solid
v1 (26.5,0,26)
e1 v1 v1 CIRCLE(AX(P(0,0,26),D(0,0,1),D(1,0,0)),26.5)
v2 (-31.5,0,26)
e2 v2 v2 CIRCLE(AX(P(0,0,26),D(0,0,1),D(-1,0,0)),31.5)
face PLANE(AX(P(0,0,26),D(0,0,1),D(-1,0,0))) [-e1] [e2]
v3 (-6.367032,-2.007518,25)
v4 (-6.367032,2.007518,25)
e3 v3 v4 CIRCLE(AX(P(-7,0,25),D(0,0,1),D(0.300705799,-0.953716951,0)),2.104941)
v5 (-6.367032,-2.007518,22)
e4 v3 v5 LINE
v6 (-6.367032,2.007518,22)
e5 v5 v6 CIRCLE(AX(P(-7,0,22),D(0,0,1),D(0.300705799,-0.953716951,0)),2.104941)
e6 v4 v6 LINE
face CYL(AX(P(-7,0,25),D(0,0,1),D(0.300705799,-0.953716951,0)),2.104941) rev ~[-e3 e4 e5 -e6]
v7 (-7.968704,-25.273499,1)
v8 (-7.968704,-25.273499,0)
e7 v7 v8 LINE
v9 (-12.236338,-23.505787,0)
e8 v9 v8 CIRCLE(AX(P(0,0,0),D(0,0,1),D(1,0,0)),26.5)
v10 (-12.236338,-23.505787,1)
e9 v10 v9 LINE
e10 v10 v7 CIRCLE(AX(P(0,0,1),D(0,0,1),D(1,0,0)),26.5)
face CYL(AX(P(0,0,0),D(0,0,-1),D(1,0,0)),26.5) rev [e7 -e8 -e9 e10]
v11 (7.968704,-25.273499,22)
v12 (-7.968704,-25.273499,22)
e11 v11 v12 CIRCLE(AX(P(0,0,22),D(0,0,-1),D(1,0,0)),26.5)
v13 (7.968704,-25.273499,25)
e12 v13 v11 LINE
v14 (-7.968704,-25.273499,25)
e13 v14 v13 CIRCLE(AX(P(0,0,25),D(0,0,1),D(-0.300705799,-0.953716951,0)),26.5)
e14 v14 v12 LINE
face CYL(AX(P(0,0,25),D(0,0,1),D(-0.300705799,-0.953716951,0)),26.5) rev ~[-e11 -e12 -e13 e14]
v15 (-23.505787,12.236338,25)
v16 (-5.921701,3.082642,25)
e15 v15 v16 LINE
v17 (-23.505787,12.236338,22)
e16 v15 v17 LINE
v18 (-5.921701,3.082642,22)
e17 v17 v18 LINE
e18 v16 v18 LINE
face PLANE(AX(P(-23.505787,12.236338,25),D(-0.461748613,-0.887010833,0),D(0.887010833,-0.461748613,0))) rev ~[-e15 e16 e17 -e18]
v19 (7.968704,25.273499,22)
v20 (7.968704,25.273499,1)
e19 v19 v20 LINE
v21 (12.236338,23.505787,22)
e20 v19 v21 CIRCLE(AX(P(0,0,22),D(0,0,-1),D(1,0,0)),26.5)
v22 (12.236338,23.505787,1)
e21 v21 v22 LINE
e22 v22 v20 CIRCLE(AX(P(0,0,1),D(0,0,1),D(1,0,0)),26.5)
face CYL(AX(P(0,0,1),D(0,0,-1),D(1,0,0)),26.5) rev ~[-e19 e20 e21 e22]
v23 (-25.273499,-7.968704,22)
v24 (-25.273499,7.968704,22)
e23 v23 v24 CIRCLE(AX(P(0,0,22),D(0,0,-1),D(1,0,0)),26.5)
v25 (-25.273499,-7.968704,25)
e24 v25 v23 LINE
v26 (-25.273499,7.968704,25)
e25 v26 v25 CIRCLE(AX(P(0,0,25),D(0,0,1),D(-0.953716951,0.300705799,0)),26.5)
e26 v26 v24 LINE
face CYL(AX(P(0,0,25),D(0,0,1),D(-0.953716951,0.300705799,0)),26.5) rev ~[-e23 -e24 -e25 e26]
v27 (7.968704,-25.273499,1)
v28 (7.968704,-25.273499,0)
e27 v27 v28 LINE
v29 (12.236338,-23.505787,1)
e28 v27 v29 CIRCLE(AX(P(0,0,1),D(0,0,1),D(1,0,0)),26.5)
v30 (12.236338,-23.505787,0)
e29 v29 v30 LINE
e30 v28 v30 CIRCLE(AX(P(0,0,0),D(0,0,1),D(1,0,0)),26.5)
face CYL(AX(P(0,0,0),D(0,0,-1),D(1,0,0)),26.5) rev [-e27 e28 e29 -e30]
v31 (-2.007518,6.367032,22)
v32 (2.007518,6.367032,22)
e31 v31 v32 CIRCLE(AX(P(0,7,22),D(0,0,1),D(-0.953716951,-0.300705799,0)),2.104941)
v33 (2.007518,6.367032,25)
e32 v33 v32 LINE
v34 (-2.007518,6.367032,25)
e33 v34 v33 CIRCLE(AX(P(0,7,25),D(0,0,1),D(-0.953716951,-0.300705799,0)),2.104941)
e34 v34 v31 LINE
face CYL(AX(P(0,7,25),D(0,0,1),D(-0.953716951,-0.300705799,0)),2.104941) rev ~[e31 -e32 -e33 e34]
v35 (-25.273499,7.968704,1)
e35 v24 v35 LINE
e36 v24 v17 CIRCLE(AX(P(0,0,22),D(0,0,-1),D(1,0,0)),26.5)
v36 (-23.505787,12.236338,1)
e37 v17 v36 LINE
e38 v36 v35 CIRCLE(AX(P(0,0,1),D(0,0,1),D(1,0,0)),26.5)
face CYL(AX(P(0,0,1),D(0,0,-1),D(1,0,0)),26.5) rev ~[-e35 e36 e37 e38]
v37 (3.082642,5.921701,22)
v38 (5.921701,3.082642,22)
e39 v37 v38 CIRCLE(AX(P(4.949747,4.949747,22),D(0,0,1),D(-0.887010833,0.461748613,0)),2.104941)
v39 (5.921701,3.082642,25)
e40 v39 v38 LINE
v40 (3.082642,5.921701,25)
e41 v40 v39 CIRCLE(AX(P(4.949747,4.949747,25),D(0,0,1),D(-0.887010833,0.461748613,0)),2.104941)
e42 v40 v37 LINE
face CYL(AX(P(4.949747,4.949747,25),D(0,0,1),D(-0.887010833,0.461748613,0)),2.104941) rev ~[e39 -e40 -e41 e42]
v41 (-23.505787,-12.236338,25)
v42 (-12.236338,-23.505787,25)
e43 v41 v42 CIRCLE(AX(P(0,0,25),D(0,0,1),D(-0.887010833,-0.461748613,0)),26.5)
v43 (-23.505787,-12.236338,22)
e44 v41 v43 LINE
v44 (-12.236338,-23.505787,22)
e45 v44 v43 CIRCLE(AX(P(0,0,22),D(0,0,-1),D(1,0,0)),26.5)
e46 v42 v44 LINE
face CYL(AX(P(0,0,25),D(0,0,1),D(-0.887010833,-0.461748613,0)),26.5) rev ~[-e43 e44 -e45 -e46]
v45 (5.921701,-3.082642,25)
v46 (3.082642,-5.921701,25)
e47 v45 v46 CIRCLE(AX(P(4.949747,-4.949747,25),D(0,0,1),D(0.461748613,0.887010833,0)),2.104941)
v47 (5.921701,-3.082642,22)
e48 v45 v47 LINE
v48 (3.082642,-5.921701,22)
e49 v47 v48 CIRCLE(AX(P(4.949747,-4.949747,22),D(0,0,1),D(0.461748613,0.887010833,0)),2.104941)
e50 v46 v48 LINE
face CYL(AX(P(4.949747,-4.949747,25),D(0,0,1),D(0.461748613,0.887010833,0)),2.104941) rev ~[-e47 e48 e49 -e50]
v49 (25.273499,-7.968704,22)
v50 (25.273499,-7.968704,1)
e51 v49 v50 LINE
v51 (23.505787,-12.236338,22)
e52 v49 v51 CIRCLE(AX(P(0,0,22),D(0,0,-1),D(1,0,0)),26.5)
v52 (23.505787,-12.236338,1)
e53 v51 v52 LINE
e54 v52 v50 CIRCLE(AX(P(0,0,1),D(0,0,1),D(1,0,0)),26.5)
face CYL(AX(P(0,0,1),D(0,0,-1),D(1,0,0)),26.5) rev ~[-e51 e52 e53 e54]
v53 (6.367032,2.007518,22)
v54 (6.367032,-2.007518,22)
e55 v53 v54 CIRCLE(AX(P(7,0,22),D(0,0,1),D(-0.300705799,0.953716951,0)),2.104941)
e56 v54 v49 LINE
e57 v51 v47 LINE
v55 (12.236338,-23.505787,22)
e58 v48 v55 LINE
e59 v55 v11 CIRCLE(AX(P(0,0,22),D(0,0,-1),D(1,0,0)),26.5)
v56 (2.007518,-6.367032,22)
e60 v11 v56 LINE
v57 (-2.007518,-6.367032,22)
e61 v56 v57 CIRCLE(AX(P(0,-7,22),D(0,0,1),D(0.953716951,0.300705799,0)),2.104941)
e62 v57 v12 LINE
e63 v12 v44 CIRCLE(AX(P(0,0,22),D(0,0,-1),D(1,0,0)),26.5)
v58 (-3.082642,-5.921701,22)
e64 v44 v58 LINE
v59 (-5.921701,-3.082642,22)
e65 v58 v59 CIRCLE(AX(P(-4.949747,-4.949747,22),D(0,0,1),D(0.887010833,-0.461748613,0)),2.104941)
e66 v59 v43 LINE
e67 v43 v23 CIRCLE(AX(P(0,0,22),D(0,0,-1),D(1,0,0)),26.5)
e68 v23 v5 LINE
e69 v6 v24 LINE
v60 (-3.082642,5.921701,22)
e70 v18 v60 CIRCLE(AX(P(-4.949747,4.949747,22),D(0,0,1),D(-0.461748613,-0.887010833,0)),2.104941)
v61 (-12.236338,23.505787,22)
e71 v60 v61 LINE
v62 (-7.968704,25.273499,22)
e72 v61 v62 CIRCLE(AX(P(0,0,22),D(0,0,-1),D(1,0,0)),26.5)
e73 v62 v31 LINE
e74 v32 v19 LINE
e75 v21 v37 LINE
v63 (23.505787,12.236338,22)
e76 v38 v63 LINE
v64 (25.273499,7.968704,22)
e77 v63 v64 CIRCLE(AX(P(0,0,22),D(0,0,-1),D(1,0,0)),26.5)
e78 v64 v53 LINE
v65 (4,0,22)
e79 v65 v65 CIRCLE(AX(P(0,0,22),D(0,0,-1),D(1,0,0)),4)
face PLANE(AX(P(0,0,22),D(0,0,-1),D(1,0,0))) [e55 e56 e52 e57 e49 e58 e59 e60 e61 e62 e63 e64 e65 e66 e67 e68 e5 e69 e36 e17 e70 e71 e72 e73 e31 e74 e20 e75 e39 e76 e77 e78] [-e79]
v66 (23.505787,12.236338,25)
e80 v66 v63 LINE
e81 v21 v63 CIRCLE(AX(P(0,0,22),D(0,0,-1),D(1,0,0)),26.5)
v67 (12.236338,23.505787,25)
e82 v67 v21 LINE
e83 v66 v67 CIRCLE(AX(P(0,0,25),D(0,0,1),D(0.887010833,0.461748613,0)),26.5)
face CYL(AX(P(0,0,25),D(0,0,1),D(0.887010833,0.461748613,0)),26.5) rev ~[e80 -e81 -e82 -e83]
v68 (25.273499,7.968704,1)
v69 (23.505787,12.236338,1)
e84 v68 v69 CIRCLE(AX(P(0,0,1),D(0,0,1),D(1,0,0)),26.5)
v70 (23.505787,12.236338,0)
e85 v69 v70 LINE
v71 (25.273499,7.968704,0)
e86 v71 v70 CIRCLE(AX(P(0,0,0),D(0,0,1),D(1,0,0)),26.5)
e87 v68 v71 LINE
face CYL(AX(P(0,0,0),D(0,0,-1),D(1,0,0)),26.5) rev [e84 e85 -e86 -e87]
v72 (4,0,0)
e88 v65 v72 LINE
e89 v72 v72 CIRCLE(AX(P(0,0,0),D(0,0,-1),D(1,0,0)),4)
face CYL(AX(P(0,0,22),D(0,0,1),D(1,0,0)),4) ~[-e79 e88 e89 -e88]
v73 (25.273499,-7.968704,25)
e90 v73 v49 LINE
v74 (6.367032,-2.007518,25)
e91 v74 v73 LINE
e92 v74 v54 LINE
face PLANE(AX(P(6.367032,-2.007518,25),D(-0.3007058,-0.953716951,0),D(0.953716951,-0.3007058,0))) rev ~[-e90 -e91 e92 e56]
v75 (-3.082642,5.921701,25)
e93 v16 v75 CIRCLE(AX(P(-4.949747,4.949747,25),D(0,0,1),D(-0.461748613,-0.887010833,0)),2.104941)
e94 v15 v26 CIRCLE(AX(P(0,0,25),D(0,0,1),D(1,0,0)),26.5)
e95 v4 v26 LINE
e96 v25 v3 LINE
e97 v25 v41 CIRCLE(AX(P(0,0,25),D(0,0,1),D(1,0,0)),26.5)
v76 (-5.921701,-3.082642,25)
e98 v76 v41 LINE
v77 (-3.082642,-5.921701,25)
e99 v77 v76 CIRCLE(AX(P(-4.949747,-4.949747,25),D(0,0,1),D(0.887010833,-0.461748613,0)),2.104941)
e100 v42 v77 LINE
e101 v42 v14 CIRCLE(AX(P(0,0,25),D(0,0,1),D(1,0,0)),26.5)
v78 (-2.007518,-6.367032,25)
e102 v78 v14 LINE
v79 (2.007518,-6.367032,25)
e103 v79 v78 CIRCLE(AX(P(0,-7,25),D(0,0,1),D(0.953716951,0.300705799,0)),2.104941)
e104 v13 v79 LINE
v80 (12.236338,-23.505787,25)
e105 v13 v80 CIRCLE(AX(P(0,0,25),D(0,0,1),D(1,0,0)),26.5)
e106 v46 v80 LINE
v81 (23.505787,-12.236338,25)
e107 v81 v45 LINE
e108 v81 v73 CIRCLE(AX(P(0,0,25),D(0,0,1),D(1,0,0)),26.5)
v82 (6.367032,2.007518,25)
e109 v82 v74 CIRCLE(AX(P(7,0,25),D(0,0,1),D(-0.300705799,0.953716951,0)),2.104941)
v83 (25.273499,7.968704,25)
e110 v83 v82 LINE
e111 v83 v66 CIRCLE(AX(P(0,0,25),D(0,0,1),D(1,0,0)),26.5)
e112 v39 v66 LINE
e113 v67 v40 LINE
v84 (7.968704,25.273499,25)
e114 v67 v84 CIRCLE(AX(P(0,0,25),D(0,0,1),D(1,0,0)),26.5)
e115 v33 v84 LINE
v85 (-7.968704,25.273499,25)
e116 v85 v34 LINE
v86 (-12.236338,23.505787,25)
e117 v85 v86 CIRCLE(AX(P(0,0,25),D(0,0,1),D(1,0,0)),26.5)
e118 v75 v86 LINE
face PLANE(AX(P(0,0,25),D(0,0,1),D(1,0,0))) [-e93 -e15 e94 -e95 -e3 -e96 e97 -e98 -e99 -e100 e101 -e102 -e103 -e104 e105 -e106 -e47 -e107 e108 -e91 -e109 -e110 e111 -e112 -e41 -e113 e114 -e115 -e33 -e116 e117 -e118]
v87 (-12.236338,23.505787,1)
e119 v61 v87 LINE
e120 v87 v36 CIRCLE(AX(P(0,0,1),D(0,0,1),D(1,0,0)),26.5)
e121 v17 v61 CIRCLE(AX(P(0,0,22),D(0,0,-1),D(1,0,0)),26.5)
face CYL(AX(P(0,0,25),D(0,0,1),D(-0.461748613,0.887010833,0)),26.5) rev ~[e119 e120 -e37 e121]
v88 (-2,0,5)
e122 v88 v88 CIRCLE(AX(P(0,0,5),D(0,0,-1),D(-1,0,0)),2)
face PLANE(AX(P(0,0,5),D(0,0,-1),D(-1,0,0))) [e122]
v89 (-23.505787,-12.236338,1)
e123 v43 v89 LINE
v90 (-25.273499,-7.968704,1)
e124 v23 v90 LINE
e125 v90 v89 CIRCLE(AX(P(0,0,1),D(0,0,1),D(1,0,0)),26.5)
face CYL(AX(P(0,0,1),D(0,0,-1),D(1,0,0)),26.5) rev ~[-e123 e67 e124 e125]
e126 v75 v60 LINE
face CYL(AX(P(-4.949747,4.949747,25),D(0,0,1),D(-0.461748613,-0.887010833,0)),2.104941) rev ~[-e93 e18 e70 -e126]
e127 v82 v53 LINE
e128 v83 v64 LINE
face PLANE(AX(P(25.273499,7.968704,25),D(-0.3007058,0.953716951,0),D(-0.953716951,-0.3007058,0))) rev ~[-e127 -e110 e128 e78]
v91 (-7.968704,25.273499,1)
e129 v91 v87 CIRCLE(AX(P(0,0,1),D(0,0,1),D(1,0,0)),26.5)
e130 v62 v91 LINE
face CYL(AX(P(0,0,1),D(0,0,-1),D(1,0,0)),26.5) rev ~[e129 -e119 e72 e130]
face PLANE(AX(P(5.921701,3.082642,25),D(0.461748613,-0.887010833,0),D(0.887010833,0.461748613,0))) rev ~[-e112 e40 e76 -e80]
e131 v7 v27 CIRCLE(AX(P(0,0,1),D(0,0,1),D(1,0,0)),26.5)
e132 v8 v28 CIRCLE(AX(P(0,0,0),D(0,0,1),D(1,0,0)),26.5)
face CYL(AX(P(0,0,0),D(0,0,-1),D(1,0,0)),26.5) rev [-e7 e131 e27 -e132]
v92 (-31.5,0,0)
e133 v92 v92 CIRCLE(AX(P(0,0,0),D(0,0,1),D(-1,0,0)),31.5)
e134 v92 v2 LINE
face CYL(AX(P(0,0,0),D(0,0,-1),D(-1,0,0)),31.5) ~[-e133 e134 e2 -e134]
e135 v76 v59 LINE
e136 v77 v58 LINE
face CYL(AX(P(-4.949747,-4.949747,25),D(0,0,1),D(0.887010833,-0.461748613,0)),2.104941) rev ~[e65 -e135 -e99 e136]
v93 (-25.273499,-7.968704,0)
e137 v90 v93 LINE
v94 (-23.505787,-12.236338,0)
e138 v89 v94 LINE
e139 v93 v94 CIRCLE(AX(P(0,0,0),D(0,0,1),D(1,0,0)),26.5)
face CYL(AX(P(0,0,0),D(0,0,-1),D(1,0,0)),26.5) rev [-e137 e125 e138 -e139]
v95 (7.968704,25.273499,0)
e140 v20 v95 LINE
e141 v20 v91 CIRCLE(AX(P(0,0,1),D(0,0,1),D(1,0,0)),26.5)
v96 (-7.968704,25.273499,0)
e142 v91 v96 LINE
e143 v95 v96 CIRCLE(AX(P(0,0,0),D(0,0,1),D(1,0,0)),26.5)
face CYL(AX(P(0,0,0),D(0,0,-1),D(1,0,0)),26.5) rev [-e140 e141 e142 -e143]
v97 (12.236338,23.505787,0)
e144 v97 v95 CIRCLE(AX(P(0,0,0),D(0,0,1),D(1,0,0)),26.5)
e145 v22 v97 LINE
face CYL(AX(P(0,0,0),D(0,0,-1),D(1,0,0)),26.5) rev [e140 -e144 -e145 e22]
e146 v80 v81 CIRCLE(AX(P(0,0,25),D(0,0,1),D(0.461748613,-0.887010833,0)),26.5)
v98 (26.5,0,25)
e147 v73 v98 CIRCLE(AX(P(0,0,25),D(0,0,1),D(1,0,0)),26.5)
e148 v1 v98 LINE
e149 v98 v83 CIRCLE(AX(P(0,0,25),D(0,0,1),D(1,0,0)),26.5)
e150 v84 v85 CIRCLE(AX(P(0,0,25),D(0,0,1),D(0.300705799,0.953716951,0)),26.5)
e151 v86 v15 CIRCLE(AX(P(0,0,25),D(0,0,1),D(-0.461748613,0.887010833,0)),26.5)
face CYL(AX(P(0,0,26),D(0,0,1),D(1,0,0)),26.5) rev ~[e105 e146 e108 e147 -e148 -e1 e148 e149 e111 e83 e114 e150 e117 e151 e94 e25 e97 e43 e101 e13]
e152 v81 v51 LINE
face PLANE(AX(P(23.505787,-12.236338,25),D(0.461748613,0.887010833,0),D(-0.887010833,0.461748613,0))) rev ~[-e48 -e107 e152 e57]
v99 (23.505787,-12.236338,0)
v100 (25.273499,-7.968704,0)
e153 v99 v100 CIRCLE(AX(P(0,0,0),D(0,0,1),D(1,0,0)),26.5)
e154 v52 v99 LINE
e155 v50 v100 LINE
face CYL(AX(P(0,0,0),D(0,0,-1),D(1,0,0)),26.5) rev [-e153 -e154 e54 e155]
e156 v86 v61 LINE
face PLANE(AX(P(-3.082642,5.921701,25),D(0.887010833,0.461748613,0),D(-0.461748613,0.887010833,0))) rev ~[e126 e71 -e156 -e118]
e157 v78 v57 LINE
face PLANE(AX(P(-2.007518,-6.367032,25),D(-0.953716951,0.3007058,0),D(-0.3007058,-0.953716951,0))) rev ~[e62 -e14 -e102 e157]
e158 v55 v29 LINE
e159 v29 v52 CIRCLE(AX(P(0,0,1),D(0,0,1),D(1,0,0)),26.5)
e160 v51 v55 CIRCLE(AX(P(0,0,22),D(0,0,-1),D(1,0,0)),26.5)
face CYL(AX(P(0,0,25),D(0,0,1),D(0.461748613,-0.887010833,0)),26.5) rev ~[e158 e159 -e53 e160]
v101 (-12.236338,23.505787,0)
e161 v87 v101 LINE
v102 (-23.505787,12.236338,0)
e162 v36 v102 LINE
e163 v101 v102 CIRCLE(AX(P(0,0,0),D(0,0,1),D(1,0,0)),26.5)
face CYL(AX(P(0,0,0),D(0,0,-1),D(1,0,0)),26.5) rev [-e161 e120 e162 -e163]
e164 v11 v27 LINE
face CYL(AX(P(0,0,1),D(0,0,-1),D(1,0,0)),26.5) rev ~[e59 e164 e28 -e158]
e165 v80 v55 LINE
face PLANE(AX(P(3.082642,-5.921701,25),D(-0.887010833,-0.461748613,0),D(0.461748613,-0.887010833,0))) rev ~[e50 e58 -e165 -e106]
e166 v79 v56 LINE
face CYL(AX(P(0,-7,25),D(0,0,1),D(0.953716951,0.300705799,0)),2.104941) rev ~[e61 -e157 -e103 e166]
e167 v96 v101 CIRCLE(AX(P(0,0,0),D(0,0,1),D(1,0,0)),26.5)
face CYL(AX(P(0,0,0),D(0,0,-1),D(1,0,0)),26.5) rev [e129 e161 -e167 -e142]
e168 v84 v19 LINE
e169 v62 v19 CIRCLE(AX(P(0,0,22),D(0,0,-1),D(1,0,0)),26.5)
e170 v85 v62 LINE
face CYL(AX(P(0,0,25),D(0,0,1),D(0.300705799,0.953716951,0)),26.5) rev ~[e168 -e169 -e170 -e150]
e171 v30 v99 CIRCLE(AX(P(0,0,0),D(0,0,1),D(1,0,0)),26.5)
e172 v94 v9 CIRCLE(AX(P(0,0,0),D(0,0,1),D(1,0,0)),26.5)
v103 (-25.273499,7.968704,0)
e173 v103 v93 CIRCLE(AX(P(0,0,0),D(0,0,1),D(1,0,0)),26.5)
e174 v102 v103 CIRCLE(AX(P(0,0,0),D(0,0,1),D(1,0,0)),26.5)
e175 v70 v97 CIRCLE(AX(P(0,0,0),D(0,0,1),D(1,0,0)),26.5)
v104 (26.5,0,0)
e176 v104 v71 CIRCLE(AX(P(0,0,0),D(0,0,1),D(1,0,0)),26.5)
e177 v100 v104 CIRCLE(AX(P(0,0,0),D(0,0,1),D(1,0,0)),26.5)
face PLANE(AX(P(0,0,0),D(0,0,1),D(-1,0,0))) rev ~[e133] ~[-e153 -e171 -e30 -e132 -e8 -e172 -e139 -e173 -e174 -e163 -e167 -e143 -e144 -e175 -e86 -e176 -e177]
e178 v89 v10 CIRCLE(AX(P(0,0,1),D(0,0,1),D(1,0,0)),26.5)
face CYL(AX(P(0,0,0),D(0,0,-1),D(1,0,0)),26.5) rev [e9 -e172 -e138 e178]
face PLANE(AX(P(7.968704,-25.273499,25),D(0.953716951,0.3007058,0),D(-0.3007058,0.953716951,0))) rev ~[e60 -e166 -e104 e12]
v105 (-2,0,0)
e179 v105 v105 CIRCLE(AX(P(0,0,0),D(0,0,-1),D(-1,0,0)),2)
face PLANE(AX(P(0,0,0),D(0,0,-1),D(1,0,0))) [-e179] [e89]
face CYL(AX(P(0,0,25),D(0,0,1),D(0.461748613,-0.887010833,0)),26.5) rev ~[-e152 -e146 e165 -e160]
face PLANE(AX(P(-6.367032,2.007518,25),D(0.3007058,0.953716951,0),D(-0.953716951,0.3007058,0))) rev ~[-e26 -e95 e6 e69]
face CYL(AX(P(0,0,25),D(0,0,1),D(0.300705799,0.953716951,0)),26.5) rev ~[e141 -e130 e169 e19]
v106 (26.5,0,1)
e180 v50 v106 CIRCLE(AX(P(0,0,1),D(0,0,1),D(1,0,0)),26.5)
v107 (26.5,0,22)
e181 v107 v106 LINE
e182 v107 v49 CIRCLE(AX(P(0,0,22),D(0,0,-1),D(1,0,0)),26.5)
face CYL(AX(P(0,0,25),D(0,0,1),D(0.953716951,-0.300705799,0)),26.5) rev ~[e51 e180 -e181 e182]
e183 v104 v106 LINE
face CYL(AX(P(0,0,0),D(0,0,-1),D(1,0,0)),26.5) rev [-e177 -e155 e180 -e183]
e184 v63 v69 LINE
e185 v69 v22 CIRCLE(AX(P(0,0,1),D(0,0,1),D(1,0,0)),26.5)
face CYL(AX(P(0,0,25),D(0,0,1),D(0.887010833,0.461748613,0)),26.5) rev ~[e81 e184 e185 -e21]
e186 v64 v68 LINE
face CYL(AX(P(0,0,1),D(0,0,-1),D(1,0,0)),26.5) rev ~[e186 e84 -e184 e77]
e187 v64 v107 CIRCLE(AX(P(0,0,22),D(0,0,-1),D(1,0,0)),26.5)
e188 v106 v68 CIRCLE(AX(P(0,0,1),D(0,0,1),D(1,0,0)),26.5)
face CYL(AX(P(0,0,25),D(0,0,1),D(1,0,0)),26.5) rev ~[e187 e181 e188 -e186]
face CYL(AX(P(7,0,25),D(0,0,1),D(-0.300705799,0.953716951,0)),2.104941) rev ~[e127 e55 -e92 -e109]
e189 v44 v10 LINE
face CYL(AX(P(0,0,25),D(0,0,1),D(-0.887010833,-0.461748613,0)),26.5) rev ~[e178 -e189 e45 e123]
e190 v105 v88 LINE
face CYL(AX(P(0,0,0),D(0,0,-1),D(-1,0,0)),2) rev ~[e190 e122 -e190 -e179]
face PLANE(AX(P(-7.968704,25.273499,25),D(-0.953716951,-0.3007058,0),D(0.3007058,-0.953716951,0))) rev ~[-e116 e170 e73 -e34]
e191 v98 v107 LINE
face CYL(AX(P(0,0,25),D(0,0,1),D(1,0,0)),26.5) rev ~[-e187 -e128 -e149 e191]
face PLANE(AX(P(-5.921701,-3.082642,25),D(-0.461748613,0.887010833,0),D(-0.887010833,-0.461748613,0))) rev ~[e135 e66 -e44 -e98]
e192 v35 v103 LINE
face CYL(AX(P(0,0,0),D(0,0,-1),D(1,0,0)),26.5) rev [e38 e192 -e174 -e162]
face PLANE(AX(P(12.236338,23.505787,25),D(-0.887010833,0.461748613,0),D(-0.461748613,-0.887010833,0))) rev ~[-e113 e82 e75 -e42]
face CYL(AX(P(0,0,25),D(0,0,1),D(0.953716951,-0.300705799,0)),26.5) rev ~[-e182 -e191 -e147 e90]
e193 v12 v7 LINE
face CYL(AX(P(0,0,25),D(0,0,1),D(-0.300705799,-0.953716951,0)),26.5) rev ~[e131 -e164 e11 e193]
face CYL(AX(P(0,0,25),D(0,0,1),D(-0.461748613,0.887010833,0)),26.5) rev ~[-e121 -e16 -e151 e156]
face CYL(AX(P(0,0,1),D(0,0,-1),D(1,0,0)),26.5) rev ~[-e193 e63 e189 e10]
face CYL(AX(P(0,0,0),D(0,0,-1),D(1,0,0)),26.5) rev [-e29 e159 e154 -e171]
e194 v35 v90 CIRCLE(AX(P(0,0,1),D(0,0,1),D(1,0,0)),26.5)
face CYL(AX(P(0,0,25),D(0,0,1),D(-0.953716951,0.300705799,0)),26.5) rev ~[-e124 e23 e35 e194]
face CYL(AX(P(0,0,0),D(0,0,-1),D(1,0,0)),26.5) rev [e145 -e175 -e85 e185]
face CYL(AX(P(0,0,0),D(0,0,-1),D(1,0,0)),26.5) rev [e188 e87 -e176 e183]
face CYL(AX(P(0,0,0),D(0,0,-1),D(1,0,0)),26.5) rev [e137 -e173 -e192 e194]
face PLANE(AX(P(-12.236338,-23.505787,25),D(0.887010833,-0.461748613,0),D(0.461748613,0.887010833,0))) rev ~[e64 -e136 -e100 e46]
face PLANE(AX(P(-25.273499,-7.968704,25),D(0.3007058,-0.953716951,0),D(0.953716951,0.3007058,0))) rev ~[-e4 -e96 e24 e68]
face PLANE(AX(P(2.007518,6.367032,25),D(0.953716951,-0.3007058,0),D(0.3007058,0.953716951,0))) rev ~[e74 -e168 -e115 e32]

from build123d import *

# Parameters (mm, degrees)
ESQUISSE1_R             = 31.5
BOSS_EXTRU_1_DEPTH      = 26
ESQUISSE2_R             = 26.5
ENL_V_MAT_EXTRU_1_DEPTH = 1
ENL_V_MAT_EXTRU_2_DEPTH = 52.083265362
ESQUISSE4_R             = 26.5
ENL_V_MAT_EXTRU_3_DEPTH = 21
ESQUISSE5_R             = 4
BOSS_EXTRU_2_DEPTH      = 22
ESQUISSE6_R             = 2
ENL_V_MAT_EXTRU_4_DEPTH = 5


with BuildPart() as part:
    # Esquisse1 → Boss.-Extru.1 (new body)
    with BuildSketch(Plane.XY):
        with Locations(Location((0, 0, 0), (0, 0, 180))):
            Circle(ESQUISSE1_R)
    extrude(amount=BOSS_EXTRU_1_DEPTH)

    # Esquisse2 → Enlèv. mat.-Extru.1 (cut)
    with BuildSketch(Plane.XY.offset(26)):
        Circle(ESQUISSE2_R)
    enl_v_mat_extru_1 = extrude(amount=-ENL_V_MAT_EXTRU_1_DEPTH, mode=Mode.SUBTRACT)

    # Symétrie1: Enlèv. mat.-Extru.1 across plane
    add(enl_v_mat_extru_1.mirror(Plane.XY.offset(13)), mode=Mode.SUBTRACT)

    # Esquisse3 → Enlèv. mat.-Extru.2 (cut, through all)
    with BuildSketch(Plane.XY.offset(25)):
        with BuildLine():
            ThreePointArc((7.968703687, 25.273499195), (0, 26.5), (-7.968703687, 25.273499195))
            Line((-7.968703687, 25.273499195), (-2.007517527, 6.367032155))
            ThreePointArc((-2.007517527, 6.367032155), (0, 4.895059403), (2.007517527, 6.367032155))
            Line((2.007517527, 6.367032155), (7.968703687, 25.273499195))
        make_face()
        with BuildLine():
            Line((-3.082642356, 5.92170087), (-12.236338251, 23.505787079))
            ThreePointArc((-12.236338251, 23.505787079), (-18.738329701, 18.738329701), (-23.505787079, 12.236338251))
            Line((-23.505787079, 12.236338251), (-5.92170087, 3.082642356))
            ThreePointArc((-5.92170087, 3.082642356), (-3.461329699, 3.461329699), (-3.082642356, 5.92170087))
        make_face()
        with BuildLine():
            Line((-6.367032155, 2.007517527), (-25.273499195, 7.968703687))
            ThreePointArc((-25.273499195, 7.968703687), (-26.5, 0), (-25.273499195, -7.968703687))
            Line((-25.273499195, -7.968703687), (-6.367032155, -2.007517527))
            ThreePointArc((-6.367032155, -2.007517527), (-4.895059403, 0), (-6.367032155, 2.007517527))
        make_face()
        with BuildLine():
            Line((-5.92170087, -3.082642356), (-23.505787079, -12.236338251))
            ThreePointArc((-23.505787079, -12.236338251), (-18.738329701, -18.738329701), (-12.236338251, -23.505787079))
            Line((-12.236338251, -23.505787079), (-3.082642356, -5.92170087))
            ThreePointArc((-3.082642356, -5.92170087), (-3.461329699, -3.461329699), (-5.92170087, -3.082642356))
        make_face()
        with BuildLine():
            Line((-2.007517527, -6.367032155), (-7.968703687, -25.273499195))
            ThreePointArc((-7.968703687, -25.273499195), (0, -26.5), (7.968703687, -25.273499195))
            Line((7.968703687, -25.273499195), (2.007517527, -6.367032155))
            ThreePointArc((2.007517527, -6.367032155), (0, -4.895059403), (-2.007517527, -6.367032155))
        make_face()
        with BuildLine():
            ThreePointArc((12.236338251, -23.505787079), (18.738329701, -18.738329701), (23.505787079, -12.236338251))
            Line((23.505787079, -12.236338251), (5.92170087, -3.082642356))
            ThreePointArc((5.92170087, -3.082642356), (3.461329699, -3.461329699), (3.082642356, -5.92170087))
            Line((3.082642356, -5.92170087), (12.236338251, -23.505787079))
        make_face()
        with BuildLine():
            ThreePointArc((26.5, 0), (26.191580027, 4.031269734), (25.273499195, 7.968703687))
            Line((25.273499195, 7.968703687), (6.367032155, 2.007517527))
            ThreePointArc((6.367032155, 2.007517527), (4.895059403, 0), (6.367032155, -2.007517527))
            Line((6.367032155, -2.007517527), (25.273499195, -7.968703687))
            ThreePointArc((25.273499195, -7.968703687), (26.191580027, -4.031269734), (26.5, 0))
        make_face()
        with BuildLine():
            ThreePointArc((23.505787079, 12.236338251), (18.738329701, 18.738329701), (12.236338251, 23.505787079))
            Line((12.236338251, 23.505787079), (3.082642356, 5.92170087))
            ThreePointArc((3.082642356, 5.92170087), (3.461329699, 3.461329699), (5.92170087, 3.082642356))
            Line((5.92170087, 3.082642356), (23.505787079, 12.236338251))
        make_face()
    extrude(amount=-ENL_V_MAT_EXTRU_2_DEPTH, mode=Mode.SUBTRACT)

    # Esquisse4 → Enlèv. mat.-Extru.3 (cut)
    with BuildSketch(Plane(origin=(0, 0, 1), x_dir=(-1, 0, 0), z_dir=(0, 0, -1))):
        with Locations(Location((0, 0, 0), (0, 0, 180))):
            Circle(ESQUISSE4_R)
    extrude(amount=-ENL_V_MAT_EXTRU_3_DEPTH, mode=Mode.SUBTRACT)

    # Esquisse5 → Boss.-Extru.2 (add)
    with BuildSketch(Plane(origin=(0, 0, 22), x_dir=(-1, 0, 0), z_dir=(0, 0, -1))):
        with Locations(Location((0, 0, 0), (0, 0, 180))):
            Circle(ESQUISSE5_R)
    extrude(amount=BOSS_EXTRU_2_DEPTH)

    # Esquisse6 → Enlèv. mat.-Extru.4 (cut)
    with BuildSketch(Plane(origin=(0, 0, 0), x_dir=(-1, 0, 0), z_dir=(0, 0, -1))):
        Circle(ESQUISSE6_R)
    extrude(amount=-ENL_V_MAT_EXTRU_4_DEPTH, mode=Mode.SUBTRACT)


solid = part.part
